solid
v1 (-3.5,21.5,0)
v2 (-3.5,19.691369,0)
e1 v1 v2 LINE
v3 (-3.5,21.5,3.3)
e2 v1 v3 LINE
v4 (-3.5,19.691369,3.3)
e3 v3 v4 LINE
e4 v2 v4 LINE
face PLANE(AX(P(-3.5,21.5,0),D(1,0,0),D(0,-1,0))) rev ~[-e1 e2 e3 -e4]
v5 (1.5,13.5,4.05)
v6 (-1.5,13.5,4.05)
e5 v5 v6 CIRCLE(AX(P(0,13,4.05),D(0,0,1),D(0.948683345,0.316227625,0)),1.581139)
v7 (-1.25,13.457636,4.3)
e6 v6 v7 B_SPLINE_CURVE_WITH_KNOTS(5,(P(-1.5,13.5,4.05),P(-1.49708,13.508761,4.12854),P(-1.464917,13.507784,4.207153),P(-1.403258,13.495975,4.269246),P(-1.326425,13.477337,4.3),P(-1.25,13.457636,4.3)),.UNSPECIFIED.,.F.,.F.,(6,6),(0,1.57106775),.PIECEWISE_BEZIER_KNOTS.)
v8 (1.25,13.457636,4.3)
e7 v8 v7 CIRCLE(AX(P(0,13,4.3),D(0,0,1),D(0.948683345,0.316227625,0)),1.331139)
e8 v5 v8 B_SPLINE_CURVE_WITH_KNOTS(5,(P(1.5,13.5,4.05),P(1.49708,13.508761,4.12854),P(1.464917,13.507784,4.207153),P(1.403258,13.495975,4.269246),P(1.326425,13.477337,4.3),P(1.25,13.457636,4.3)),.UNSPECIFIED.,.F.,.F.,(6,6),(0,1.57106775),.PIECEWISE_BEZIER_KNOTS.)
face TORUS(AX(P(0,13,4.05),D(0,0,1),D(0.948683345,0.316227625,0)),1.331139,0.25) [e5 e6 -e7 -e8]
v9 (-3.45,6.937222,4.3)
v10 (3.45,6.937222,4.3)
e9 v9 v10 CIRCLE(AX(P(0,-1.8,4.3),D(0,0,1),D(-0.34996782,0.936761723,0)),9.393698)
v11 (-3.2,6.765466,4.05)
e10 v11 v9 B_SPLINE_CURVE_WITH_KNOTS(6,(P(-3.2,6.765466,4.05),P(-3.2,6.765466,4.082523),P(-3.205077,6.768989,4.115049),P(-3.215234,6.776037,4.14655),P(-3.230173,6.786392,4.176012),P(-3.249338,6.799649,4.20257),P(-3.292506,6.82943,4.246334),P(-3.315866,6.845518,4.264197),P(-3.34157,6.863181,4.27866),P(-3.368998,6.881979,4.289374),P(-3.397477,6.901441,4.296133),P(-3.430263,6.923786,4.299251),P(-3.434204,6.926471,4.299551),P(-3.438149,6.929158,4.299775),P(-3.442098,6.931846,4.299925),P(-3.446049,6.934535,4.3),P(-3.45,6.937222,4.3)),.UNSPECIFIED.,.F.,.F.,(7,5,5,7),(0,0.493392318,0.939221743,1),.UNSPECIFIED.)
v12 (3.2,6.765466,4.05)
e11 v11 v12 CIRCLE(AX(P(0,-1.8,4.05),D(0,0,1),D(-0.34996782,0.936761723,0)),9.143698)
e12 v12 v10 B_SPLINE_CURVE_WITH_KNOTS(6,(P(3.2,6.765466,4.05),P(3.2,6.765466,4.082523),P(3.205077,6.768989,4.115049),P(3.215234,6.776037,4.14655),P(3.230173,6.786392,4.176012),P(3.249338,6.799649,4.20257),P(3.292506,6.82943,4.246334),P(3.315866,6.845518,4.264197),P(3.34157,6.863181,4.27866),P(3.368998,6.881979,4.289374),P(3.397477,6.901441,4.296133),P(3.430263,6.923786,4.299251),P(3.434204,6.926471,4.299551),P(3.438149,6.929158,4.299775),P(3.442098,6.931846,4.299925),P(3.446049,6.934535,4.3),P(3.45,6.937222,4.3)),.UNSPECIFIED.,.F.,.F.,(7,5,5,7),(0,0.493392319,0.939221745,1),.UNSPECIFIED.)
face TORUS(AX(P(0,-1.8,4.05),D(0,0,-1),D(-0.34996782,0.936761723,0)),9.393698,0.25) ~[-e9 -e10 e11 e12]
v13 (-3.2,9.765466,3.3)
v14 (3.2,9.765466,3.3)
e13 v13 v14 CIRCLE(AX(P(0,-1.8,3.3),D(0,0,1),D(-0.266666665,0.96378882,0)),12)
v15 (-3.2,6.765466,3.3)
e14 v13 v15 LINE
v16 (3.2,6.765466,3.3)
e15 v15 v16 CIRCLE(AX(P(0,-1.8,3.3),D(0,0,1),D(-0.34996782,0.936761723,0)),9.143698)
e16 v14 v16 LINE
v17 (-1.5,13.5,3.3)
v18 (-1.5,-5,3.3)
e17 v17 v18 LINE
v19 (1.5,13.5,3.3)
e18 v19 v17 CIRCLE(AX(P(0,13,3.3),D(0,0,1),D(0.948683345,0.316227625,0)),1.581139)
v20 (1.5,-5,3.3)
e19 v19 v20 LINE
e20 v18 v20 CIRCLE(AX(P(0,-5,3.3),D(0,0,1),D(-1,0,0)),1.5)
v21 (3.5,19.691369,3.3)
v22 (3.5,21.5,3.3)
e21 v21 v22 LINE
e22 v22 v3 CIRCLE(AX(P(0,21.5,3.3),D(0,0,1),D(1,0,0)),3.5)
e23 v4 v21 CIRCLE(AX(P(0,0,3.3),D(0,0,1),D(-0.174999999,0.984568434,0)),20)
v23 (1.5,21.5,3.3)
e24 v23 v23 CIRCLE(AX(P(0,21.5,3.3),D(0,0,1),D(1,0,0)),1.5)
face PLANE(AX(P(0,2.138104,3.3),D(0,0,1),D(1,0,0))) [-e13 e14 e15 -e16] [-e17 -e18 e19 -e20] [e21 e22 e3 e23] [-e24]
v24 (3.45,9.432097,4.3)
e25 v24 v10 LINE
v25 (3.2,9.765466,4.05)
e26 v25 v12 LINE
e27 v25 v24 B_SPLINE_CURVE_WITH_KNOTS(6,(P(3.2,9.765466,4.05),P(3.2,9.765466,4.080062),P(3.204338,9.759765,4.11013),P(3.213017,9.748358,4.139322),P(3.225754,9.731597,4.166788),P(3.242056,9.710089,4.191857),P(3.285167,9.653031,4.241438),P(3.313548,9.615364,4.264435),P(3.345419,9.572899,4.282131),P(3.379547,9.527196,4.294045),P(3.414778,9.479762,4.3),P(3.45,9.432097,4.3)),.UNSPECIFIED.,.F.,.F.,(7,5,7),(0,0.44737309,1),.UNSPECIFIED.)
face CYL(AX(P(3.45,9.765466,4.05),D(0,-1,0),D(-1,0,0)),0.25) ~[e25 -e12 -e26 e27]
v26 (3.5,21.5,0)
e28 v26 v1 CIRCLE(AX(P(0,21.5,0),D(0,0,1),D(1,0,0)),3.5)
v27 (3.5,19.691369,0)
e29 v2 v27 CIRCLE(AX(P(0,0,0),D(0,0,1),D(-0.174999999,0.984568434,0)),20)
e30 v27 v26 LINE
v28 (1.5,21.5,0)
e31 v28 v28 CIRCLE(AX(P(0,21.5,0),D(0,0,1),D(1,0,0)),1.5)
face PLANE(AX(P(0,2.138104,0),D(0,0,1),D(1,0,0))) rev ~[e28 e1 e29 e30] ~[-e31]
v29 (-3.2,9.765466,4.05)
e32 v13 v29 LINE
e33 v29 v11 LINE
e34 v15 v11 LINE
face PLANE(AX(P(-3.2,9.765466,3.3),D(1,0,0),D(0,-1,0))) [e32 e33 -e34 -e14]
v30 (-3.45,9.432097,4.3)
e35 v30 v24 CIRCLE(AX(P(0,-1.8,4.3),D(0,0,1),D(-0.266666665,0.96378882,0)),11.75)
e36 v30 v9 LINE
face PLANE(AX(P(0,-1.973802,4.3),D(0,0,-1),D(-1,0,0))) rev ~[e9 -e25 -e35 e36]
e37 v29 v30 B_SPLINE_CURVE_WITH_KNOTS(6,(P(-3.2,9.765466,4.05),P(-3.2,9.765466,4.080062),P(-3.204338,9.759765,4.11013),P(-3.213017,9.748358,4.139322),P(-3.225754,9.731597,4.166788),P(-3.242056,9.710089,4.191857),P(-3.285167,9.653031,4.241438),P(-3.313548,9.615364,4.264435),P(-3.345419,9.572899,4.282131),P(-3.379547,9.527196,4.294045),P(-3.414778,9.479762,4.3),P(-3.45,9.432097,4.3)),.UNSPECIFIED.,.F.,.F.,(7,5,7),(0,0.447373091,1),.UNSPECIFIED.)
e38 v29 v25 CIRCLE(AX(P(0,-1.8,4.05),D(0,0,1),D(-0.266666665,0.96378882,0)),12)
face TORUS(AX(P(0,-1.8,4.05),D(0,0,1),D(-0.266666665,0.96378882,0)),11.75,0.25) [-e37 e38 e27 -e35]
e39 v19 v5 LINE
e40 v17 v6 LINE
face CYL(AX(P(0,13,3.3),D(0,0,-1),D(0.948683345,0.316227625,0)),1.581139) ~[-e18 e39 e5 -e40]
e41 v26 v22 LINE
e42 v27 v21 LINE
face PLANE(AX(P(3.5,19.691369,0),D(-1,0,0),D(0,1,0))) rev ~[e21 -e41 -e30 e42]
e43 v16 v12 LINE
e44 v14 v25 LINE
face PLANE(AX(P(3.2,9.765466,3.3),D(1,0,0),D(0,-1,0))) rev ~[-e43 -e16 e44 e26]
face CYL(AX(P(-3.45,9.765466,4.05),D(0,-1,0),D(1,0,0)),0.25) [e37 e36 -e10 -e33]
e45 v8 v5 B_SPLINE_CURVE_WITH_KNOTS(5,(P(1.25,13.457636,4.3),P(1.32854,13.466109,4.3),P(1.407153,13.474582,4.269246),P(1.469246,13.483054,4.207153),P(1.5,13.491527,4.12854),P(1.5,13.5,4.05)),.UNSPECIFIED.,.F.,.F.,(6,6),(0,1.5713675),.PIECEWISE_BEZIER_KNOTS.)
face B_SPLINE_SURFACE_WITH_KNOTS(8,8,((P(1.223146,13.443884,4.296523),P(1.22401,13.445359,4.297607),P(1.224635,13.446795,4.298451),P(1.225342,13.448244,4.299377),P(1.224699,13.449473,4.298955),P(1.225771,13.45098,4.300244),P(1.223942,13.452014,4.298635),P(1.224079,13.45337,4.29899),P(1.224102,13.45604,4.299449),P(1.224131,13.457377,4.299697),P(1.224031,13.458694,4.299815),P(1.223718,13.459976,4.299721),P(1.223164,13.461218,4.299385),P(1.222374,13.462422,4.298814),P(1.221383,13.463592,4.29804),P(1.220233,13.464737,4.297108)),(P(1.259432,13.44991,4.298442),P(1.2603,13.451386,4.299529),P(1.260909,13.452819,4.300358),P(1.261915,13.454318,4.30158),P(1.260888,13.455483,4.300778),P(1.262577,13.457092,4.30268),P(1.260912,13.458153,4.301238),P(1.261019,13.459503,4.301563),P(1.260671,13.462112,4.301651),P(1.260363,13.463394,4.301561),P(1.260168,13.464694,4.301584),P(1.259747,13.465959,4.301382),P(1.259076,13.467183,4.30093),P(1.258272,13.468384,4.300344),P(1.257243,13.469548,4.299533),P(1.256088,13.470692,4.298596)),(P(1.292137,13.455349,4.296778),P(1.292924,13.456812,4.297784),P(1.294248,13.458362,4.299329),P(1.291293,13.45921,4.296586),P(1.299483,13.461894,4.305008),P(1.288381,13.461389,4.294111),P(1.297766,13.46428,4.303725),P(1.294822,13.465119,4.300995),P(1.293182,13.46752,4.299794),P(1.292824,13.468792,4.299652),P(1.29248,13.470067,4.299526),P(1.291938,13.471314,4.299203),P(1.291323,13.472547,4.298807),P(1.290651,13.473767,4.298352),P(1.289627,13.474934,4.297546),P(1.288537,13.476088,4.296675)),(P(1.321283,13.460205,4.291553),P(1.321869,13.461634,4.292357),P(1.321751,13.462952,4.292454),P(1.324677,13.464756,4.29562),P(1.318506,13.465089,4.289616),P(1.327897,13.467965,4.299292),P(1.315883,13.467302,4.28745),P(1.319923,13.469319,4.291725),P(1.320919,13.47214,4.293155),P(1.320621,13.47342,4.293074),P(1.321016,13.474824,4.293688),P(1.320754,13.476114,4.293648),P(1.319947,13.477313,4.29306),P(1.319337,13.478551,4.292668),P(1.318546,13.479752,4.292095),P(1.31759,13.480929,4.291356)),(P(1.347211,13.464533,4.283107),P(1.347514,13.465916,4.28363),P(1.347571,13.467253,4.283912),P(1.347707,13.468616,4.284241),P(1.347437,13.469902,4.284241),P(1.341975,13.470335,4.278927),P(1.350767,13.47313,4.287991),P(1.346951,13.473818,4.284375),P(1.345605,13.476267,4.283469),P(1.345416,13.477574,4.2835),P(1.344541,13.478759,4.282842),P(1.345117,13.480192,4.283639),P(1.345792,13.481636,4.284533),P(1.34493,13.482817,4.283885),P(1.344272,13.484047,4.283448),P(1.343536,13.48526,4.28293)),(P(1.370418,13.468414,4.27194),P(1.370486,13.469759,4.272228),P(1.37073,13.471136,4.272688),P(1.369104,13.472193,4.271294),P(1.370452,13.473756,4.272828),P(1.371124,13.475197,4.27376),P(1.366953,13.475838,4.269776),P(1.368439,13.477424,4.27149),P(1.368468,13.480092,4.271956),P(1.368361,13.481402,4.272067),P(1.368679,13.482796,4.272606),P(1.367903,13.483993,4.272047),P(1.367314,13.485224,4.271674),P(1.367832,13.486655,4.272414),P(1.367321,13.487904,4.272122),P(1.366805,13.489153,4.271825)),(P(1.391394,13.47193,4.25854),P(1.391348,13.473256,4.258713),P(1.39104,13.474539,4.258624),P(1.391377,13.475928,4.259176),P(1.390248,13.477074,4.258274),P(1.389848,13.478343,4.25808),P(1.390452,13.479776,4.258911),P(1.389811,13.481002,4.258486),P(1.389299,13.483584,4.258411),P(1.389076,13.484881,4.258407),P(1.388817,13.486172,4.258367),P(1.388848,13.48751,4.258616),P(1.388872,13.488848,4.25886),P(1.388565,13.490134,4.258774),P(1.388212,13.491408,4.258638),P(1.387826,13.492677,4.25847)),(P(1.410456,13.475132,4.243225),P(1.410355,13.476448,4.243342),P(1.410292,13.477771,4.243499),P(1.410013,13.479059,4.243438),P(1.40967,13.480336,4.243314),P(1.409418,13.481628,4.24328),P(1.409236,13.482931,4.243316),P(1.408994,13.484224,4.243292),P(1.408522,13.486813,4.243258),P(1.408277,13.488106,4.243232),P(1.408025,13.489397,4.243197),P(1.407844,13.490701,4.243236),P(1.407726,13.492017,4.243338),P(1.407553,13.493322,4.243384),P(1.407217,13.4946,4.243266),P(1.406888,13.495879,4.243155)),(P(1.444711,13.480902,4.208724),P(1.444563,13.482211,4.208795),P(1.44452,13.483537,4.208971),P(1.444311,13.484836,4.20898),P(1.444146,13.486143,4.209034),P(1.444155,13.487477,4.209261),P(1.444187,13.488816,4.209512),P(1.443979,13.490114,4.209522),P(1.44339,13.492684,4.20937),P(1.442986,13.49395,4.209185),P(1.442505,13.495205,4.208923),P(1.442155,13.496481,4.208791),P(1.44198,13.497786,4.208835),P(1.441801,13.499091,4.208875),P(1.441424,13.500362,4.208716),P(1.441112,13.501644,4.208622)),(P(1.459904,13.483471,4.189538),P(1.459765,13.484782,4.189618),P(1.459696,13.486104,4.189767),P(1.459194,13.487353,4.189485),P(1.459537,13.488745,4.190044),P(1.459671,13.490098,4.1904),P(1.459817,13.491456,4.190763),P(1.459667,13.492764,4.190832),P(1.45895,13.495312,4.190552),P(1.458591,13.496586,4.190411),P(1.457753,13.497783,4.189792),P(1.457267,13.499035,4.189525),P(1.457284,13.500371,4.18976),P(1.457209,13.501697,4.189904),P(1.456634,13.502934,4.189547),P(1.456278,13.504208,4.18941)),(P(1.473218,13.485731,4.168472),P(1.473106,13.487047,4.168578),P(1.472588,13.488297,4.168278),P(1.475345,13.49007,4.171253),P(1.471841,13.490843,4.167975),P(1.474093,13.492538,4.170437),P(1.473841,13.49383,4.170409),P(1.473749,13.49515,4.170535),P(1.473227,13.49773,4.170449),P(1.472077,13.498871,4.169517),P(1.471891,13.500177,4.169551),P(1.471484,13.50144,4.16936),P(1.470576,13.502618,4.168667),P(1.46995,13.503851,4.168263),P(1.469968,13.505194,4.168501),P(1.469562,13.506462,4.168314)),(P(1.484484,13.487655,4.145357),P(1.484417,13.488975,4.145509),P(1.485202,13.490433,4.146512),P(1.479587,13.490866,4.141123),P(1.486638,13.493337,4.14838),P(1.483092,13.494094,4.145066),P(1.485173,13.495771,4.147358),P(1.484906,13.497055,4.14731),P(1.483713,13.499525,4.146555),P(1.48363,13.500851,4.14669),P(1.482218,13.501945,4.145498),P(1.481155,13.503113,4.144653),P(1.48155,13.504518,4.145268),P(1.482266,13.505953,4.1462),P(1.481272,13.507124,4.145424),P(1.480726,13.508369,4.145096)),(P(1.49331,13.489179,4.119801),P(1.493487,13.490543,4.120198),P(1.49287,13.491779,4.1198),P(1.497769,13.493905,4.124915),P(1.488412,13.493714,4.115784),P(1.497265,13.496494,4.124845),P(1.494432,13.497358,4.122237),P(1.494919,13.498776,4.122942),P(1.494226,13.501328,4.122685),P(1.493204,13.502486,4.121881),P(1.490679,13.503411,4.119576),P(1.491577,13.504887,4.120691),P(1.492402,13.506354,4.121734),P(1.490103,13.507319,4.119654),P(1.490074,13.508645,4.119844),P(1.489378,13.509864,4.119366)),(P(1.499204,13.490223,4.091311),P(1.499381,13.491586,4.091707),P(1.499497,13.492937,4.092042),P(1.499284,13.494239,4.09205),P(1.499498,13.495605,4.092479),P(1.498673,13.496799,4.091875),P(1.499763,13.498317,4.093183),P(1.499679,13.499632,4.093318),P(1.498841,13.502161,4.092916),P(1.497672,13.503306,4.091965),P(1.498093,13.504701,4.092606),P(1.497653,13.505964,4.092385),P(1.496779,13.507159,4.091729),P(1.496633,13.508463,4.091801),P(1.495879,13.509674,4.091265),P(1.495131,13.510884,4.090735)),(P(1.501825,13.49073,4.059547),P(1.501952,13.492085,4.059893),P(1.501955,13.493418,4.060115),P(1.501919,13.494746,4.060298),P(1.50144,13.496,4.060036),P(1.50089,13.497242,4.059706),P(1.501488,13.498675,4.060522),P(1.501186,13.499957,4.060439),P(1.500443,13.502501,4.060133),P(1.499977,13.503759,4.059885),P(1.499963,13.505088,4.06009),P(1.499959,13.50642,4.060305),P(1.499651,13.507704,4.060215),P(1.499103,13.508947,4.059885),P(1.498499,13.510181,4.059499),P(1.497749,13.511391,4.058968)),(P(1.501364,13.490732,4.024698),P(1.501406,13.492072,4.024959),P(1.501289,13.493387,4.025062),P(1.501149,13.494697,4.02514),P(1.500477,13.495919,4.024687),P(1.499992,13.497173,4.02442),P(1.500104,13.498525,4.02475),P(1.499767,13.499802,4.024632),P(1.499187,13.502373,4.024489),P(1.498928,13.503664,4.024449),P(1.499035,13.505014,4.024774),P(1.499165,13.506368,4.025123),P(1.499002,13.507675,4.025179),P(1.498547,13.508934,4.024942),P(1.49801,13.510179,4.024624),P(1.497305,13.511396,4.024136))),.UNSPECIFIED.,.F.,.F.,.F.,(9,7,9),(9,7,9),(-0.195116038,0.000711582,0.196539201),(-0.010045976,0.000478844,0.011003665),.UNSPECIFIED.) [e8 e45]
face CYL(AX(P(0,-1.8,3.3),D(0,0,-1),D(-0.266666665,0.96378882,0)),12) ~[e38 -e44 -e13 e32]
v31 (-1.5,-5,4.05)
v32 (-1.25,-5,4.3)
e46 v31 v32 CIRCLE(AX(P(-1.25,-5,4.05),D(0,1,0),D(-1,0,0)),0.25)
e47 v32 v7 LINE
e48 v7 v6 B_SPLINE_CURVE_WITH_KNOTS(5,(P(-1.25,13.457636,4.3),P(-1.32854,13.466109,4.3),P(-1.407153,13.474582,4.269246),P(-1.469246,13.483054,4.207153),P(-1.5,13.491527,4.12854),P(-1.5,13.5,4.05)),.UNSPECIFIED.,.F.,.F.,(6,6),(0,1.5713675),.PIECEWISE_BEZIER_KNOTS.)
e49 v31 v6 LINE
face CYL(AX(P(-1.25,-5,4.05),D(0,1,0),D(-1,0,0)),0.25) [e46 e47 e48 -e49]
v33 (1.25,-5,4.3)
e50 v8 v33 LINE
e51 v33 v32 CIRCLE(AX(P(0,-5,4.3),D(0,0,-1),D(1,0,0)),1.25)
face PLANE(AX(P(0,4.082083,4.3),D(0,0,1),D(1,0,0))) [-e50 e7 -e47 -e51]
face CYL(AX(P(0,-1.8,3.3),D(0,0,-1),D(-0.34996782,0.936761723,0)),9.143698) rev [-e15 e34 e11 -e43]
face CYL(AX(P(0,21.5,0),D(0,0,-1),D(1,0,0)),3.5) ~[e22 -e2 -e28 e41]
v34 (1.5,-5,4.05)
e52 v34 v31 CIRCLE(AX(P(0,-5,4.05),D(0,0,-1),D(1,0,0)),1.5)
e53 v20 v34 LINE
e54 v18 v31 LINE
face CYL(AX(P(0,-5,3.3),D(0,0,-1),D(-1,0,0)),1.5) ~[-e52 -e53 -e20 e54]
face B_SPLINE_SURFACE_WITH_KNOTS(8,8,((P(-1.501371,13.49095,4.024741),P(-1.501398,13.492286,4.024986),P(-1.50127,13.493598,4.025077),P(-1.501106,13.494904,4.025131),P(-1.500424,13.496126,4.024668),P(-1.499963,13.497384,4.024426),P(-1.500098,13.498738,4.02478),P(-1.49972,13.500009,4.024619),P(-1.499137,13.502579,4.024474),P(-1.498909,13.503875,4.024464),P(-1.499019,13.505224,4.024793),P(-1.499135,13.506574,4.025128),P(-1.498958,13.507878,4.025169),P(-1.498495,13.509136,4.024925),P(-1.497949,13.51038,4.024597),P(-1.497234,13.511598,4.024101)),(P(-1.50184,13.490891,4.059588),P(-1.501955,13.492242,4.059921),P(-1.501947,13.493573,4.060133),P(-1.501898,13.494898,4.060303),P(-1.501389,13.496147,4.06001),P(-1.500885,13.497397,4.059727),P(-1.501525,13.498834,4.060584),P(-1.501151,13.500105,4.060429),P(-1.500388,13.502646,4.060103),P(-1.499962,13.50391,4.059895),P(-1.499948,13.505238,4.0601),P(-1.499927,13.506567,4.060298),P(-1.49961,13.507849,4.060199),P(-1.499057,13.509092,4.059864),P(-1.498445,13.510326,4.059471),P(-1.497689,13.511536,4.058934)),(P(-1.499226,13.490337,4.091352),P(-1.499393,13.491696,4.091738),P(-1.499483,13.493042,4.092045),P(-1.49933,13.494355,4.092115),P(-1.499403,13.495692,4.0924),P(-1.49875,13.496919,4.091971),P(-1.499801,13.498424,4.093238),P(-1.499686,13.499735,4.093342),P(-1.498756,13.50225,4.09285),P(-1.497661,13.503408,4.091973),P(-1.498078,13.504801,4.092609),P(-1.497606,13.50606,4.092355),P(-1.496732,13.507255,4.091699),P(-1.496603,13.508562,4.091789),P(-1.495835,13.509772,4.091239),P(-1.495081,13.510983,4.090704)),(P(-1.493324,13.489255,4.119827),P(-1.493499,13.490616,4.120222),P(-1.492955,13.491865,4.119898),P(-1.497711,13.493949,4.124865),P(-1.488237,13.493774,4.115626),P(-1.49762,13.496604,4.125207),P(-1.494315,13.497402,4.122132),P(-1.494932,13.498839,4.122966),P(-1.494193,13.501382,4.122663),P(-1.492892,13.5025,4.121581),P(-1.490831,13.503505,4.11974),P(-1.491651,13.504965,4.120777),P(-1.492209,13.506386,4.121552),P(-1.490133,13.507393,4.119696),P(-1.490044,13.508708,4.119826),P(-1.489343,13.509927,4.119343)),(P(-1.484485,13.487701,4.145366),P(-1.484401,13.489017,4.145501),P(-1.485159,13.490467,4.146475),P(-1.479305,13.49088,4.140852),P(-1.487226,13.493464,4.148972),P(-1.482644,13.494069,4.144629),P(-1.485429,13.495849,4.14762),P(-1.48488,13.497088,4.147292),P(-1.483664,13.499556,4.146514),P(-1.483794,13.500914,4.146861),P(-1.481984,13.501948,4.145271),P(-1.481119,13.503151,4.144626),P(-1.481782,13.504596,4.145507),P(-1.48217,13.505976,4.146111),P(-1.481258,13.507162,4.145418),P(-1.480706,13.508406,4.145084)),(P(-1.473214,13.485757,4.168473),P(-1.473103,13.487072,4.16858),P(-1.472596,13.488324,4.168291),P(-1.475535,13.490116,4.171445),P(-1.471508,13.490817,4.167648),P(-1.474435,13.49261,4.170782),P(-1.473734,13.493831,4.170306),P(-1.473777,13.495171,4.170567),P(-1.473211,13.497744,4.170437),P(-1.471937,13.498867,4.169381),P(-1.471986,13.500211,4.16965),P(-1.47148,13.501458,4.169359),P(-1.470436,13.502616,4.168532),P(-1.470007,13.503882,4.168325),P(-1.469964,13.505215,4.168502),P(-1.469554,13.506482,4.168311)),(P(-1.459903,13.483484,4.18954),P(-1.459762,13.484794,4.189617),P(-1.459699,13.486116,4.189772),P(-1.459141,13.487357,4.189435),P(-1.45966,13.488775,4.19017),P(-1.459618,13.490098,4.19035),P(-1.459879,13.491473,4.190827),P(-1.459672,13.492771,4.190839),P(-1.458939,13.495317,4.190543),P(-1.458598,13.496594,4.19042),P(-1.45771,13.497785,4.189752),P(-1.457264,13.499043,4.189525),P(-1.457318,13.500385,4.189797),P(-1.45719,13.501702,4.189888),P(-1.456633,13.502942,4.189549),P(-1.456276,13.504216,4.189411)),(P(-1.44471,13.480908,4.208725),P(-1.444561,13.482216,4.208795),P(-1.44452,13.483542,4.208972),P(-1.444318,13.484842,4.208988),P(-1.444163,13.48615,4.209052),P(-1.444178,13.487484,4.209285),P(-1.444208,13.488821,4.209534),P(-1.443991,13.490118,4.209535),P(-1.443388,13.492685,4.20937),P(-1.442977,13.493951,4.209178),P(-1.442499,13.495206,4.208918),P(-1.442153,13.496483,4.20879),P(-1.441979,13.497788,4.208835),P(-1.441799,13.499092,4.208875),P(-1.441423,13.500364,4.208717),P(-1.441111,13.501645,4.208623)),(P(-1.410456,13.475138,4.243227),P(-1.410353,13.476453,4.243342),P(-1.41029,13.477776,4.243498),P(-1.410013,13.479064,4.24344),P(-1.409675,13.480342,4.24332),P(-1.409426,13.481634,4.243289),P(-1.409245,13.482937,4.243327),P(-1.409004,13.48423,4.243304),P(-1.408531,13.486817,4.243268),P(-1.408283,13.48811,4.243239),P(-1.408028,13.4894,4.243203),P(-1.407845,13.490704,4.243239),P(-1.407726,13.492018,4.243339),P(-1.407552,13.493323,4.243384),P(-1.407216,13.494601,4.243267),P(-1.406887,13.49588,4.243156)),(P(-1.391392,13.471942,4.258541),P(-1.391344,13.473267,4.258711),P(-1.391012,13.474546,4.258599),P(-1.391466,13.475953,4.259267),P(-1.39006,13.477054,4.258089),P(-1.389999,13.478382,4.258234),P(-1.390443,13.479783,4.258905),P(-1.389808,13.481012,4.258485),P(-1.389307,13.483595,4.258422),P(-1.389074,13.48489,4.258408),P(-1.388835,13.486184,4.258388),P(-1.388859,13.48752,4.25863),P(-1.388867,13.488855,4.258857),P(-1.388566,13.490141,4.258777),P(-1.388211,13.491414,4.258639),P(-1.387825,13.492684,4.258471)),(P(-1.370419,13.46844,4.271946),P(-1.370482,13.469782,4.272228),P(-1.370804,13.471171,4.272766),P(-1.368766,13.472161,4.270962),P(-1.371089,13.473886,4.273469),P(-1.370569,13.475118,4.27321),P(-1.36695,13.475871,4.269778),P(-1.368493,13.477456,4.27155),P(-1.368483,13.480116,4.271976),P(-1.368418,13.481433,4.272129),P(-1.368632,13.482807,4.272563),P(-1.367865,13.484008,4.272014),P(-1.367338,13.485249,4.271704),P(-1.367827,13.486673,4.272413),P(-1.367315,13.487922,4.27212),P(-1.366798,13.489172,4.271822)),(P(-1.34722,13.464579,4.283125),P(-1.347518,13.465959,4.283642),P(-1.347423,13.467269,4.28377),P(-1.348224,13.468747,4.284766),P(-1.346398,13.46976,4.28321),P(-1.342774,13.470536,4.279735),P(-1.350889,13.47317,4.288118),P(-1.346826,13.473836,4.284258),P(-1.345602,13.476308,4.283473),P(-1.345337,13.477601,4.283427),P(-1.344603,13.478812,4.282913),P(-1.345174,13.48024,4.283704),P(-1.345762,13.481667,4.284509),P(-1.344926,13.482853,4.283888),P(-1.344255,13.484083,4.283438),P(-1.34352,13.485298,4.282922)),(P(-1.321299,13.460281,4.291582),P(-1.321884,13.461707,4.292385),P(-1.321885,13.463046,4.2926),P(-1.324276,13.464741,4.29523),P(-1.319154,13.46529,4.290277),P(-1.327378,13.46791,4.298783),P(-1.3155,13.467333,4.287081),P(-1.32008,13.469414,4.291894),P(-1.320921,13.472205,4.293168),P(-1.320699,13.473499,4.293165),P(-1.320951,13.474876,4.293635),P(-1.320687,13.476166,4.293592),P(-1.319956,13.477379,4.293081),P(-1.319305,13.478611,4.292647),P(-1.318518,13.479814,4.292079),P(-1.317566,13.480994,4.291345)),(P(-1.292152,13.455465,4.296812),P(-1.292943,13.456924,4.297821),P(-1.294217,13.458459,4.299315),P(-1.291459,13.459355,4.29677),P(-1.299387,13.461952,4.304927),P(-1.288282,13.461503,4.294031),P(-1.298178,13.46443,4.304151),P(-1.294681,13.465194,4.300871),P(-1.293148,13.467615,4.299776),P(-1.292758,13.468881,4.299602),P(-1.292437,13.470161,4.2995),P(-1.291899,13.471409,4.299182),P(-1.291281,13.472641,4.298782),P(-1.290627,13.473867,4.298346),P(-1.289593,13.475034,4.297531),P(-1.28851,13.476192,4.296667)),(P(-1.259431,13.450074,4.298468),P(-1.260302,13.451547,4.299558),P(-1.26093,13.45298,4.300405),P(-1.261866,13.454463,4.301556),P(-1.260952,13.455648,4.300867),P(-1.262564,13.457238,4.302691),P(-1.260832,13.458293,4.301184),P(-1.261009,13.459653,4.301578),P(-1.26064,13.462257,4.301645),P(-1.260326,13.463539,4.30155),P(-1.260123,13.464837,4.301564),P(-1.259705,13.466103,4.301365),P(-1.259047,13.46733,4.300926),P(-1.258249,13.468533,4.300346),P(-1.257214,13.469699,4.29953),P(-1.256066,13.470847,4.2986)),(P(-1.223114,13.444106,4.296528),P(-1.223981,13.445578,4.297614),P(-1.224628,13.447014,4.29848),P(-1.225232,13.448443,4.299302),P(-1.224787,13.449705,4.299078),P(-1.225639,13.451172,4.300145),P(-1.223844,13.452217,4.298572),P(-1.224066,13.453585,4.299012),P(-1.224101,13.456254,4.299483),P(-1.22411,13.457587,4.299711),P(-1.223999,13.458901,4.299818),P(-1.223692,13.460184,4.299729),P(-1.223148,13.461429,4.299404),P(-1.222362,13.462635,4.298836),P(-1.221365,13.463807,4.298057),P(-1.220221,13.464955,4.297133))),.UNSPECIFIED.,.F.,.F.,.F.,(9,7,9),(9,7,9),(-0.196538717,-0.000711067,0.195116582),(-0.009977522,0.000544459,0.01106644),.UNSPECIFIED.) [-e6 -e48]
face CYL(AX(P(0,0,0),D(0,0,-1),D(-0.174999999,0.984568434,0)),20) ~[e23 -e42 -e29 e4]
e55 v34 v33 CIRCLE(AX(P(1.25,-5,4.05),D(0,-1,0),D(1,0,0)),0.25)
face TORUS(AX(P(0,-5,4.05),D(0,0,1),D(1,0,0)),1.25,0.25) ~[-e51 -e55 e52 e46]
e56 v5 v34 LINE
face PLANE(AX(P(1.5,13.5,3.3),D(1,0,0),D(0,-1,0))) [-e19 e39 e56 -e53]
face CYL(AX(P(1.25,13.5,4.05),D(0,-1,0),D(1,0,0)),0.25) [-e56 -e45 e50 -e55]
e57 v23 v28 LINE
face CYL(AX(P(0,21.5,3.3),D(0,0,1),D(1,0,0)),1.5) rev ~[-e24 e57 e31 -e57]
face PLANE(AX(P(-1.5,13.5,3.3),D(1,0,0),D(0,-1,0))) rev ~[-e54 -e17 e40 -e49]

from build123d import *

# Parameters (mm, degrees)
EXTRUDE_DEPTH = 3.3
SKETCH001_R   = 1.5
POCKET_DEPTH  = 3.301
PAD_DEPTH     = 1
FILLET_R      = 0.25


with BuildPart() as part:
    # Sketch → Extrude (new body)
    with BuildSketch(Plane.XY):
        with BuildLine():
            ThreePointArc((3.5, 21.5), (0, 25), (-3.5, 21.5))
            Line((-3.5, 21.5), (-3.5, 19.691369))
            ThreePointArc((-3.5, 19.691369), (0, -20), (3.5, 19.691369))
            Line((3.5, 19.691369), (3.5, 21.5))
        make_face()
    extrude(amount=EXTRUDE_DEPTH)

    # Sketch001 (on Face6 of Extrude) → Pocket (cut, through all)
    with BuildSketch(Plane.XY.offset(3.3)):
        with Locations((0, 21.5)):
            Circle(SKETCH001_R)
    extrude(amount=-POCKET_DEPTH, mode=Mode.SUBTRACT)

    # Sketch002 (on Face1 of CopyClone) → Pad (join)
    with BuildSketch(Plane.XY.offset(3.3)):
        with BuildLine():
            Line((-1.5, 13.5), (-1.5, -5))
            ThreePointArc((-1.5, -5), (0, -6.5), (1.5, -5))
            Line((1.5, 13.5), (1.5, -5))
            ThreePointArc((1.5, 13.5), (0, 14.581139), (-1.5, 13.5))
        make_face()
        with BuildLine():
            Line((-3.2, 9.765466), (-3.2, 6.765466))
            ThreePointArc((-3.2, 6.765466), (0, -10.943698), (3.2, 6.765466))
            Line((3.2, 9.765466), (3.2, 6.765466))
            ThreePointArc((-3.2, 9.765466), (0, -13.8), (3.2, 9.765466))
        make_face()
    extrude(amount=PAD_DEPTH)

    # Fillet
    fillet_edges = [part.edges().sort_by_distance(p)[0] for p in [
        (0, 14.581139, 4.3),
        (1.5, 4.25, 4.3),
        (0, -6.5, 4.3),
        (-1.5, 4.25, 4.3),
        (-3.2, 8.265466, 4.3),
        (0, -10.943698, 4.3),
        (3.2, 8.265466, 4.3),
        (0, -13.8, 4.3),
    ]]
    fillet(fillet_edges, radius=FILLET_R)


solid = part.part
